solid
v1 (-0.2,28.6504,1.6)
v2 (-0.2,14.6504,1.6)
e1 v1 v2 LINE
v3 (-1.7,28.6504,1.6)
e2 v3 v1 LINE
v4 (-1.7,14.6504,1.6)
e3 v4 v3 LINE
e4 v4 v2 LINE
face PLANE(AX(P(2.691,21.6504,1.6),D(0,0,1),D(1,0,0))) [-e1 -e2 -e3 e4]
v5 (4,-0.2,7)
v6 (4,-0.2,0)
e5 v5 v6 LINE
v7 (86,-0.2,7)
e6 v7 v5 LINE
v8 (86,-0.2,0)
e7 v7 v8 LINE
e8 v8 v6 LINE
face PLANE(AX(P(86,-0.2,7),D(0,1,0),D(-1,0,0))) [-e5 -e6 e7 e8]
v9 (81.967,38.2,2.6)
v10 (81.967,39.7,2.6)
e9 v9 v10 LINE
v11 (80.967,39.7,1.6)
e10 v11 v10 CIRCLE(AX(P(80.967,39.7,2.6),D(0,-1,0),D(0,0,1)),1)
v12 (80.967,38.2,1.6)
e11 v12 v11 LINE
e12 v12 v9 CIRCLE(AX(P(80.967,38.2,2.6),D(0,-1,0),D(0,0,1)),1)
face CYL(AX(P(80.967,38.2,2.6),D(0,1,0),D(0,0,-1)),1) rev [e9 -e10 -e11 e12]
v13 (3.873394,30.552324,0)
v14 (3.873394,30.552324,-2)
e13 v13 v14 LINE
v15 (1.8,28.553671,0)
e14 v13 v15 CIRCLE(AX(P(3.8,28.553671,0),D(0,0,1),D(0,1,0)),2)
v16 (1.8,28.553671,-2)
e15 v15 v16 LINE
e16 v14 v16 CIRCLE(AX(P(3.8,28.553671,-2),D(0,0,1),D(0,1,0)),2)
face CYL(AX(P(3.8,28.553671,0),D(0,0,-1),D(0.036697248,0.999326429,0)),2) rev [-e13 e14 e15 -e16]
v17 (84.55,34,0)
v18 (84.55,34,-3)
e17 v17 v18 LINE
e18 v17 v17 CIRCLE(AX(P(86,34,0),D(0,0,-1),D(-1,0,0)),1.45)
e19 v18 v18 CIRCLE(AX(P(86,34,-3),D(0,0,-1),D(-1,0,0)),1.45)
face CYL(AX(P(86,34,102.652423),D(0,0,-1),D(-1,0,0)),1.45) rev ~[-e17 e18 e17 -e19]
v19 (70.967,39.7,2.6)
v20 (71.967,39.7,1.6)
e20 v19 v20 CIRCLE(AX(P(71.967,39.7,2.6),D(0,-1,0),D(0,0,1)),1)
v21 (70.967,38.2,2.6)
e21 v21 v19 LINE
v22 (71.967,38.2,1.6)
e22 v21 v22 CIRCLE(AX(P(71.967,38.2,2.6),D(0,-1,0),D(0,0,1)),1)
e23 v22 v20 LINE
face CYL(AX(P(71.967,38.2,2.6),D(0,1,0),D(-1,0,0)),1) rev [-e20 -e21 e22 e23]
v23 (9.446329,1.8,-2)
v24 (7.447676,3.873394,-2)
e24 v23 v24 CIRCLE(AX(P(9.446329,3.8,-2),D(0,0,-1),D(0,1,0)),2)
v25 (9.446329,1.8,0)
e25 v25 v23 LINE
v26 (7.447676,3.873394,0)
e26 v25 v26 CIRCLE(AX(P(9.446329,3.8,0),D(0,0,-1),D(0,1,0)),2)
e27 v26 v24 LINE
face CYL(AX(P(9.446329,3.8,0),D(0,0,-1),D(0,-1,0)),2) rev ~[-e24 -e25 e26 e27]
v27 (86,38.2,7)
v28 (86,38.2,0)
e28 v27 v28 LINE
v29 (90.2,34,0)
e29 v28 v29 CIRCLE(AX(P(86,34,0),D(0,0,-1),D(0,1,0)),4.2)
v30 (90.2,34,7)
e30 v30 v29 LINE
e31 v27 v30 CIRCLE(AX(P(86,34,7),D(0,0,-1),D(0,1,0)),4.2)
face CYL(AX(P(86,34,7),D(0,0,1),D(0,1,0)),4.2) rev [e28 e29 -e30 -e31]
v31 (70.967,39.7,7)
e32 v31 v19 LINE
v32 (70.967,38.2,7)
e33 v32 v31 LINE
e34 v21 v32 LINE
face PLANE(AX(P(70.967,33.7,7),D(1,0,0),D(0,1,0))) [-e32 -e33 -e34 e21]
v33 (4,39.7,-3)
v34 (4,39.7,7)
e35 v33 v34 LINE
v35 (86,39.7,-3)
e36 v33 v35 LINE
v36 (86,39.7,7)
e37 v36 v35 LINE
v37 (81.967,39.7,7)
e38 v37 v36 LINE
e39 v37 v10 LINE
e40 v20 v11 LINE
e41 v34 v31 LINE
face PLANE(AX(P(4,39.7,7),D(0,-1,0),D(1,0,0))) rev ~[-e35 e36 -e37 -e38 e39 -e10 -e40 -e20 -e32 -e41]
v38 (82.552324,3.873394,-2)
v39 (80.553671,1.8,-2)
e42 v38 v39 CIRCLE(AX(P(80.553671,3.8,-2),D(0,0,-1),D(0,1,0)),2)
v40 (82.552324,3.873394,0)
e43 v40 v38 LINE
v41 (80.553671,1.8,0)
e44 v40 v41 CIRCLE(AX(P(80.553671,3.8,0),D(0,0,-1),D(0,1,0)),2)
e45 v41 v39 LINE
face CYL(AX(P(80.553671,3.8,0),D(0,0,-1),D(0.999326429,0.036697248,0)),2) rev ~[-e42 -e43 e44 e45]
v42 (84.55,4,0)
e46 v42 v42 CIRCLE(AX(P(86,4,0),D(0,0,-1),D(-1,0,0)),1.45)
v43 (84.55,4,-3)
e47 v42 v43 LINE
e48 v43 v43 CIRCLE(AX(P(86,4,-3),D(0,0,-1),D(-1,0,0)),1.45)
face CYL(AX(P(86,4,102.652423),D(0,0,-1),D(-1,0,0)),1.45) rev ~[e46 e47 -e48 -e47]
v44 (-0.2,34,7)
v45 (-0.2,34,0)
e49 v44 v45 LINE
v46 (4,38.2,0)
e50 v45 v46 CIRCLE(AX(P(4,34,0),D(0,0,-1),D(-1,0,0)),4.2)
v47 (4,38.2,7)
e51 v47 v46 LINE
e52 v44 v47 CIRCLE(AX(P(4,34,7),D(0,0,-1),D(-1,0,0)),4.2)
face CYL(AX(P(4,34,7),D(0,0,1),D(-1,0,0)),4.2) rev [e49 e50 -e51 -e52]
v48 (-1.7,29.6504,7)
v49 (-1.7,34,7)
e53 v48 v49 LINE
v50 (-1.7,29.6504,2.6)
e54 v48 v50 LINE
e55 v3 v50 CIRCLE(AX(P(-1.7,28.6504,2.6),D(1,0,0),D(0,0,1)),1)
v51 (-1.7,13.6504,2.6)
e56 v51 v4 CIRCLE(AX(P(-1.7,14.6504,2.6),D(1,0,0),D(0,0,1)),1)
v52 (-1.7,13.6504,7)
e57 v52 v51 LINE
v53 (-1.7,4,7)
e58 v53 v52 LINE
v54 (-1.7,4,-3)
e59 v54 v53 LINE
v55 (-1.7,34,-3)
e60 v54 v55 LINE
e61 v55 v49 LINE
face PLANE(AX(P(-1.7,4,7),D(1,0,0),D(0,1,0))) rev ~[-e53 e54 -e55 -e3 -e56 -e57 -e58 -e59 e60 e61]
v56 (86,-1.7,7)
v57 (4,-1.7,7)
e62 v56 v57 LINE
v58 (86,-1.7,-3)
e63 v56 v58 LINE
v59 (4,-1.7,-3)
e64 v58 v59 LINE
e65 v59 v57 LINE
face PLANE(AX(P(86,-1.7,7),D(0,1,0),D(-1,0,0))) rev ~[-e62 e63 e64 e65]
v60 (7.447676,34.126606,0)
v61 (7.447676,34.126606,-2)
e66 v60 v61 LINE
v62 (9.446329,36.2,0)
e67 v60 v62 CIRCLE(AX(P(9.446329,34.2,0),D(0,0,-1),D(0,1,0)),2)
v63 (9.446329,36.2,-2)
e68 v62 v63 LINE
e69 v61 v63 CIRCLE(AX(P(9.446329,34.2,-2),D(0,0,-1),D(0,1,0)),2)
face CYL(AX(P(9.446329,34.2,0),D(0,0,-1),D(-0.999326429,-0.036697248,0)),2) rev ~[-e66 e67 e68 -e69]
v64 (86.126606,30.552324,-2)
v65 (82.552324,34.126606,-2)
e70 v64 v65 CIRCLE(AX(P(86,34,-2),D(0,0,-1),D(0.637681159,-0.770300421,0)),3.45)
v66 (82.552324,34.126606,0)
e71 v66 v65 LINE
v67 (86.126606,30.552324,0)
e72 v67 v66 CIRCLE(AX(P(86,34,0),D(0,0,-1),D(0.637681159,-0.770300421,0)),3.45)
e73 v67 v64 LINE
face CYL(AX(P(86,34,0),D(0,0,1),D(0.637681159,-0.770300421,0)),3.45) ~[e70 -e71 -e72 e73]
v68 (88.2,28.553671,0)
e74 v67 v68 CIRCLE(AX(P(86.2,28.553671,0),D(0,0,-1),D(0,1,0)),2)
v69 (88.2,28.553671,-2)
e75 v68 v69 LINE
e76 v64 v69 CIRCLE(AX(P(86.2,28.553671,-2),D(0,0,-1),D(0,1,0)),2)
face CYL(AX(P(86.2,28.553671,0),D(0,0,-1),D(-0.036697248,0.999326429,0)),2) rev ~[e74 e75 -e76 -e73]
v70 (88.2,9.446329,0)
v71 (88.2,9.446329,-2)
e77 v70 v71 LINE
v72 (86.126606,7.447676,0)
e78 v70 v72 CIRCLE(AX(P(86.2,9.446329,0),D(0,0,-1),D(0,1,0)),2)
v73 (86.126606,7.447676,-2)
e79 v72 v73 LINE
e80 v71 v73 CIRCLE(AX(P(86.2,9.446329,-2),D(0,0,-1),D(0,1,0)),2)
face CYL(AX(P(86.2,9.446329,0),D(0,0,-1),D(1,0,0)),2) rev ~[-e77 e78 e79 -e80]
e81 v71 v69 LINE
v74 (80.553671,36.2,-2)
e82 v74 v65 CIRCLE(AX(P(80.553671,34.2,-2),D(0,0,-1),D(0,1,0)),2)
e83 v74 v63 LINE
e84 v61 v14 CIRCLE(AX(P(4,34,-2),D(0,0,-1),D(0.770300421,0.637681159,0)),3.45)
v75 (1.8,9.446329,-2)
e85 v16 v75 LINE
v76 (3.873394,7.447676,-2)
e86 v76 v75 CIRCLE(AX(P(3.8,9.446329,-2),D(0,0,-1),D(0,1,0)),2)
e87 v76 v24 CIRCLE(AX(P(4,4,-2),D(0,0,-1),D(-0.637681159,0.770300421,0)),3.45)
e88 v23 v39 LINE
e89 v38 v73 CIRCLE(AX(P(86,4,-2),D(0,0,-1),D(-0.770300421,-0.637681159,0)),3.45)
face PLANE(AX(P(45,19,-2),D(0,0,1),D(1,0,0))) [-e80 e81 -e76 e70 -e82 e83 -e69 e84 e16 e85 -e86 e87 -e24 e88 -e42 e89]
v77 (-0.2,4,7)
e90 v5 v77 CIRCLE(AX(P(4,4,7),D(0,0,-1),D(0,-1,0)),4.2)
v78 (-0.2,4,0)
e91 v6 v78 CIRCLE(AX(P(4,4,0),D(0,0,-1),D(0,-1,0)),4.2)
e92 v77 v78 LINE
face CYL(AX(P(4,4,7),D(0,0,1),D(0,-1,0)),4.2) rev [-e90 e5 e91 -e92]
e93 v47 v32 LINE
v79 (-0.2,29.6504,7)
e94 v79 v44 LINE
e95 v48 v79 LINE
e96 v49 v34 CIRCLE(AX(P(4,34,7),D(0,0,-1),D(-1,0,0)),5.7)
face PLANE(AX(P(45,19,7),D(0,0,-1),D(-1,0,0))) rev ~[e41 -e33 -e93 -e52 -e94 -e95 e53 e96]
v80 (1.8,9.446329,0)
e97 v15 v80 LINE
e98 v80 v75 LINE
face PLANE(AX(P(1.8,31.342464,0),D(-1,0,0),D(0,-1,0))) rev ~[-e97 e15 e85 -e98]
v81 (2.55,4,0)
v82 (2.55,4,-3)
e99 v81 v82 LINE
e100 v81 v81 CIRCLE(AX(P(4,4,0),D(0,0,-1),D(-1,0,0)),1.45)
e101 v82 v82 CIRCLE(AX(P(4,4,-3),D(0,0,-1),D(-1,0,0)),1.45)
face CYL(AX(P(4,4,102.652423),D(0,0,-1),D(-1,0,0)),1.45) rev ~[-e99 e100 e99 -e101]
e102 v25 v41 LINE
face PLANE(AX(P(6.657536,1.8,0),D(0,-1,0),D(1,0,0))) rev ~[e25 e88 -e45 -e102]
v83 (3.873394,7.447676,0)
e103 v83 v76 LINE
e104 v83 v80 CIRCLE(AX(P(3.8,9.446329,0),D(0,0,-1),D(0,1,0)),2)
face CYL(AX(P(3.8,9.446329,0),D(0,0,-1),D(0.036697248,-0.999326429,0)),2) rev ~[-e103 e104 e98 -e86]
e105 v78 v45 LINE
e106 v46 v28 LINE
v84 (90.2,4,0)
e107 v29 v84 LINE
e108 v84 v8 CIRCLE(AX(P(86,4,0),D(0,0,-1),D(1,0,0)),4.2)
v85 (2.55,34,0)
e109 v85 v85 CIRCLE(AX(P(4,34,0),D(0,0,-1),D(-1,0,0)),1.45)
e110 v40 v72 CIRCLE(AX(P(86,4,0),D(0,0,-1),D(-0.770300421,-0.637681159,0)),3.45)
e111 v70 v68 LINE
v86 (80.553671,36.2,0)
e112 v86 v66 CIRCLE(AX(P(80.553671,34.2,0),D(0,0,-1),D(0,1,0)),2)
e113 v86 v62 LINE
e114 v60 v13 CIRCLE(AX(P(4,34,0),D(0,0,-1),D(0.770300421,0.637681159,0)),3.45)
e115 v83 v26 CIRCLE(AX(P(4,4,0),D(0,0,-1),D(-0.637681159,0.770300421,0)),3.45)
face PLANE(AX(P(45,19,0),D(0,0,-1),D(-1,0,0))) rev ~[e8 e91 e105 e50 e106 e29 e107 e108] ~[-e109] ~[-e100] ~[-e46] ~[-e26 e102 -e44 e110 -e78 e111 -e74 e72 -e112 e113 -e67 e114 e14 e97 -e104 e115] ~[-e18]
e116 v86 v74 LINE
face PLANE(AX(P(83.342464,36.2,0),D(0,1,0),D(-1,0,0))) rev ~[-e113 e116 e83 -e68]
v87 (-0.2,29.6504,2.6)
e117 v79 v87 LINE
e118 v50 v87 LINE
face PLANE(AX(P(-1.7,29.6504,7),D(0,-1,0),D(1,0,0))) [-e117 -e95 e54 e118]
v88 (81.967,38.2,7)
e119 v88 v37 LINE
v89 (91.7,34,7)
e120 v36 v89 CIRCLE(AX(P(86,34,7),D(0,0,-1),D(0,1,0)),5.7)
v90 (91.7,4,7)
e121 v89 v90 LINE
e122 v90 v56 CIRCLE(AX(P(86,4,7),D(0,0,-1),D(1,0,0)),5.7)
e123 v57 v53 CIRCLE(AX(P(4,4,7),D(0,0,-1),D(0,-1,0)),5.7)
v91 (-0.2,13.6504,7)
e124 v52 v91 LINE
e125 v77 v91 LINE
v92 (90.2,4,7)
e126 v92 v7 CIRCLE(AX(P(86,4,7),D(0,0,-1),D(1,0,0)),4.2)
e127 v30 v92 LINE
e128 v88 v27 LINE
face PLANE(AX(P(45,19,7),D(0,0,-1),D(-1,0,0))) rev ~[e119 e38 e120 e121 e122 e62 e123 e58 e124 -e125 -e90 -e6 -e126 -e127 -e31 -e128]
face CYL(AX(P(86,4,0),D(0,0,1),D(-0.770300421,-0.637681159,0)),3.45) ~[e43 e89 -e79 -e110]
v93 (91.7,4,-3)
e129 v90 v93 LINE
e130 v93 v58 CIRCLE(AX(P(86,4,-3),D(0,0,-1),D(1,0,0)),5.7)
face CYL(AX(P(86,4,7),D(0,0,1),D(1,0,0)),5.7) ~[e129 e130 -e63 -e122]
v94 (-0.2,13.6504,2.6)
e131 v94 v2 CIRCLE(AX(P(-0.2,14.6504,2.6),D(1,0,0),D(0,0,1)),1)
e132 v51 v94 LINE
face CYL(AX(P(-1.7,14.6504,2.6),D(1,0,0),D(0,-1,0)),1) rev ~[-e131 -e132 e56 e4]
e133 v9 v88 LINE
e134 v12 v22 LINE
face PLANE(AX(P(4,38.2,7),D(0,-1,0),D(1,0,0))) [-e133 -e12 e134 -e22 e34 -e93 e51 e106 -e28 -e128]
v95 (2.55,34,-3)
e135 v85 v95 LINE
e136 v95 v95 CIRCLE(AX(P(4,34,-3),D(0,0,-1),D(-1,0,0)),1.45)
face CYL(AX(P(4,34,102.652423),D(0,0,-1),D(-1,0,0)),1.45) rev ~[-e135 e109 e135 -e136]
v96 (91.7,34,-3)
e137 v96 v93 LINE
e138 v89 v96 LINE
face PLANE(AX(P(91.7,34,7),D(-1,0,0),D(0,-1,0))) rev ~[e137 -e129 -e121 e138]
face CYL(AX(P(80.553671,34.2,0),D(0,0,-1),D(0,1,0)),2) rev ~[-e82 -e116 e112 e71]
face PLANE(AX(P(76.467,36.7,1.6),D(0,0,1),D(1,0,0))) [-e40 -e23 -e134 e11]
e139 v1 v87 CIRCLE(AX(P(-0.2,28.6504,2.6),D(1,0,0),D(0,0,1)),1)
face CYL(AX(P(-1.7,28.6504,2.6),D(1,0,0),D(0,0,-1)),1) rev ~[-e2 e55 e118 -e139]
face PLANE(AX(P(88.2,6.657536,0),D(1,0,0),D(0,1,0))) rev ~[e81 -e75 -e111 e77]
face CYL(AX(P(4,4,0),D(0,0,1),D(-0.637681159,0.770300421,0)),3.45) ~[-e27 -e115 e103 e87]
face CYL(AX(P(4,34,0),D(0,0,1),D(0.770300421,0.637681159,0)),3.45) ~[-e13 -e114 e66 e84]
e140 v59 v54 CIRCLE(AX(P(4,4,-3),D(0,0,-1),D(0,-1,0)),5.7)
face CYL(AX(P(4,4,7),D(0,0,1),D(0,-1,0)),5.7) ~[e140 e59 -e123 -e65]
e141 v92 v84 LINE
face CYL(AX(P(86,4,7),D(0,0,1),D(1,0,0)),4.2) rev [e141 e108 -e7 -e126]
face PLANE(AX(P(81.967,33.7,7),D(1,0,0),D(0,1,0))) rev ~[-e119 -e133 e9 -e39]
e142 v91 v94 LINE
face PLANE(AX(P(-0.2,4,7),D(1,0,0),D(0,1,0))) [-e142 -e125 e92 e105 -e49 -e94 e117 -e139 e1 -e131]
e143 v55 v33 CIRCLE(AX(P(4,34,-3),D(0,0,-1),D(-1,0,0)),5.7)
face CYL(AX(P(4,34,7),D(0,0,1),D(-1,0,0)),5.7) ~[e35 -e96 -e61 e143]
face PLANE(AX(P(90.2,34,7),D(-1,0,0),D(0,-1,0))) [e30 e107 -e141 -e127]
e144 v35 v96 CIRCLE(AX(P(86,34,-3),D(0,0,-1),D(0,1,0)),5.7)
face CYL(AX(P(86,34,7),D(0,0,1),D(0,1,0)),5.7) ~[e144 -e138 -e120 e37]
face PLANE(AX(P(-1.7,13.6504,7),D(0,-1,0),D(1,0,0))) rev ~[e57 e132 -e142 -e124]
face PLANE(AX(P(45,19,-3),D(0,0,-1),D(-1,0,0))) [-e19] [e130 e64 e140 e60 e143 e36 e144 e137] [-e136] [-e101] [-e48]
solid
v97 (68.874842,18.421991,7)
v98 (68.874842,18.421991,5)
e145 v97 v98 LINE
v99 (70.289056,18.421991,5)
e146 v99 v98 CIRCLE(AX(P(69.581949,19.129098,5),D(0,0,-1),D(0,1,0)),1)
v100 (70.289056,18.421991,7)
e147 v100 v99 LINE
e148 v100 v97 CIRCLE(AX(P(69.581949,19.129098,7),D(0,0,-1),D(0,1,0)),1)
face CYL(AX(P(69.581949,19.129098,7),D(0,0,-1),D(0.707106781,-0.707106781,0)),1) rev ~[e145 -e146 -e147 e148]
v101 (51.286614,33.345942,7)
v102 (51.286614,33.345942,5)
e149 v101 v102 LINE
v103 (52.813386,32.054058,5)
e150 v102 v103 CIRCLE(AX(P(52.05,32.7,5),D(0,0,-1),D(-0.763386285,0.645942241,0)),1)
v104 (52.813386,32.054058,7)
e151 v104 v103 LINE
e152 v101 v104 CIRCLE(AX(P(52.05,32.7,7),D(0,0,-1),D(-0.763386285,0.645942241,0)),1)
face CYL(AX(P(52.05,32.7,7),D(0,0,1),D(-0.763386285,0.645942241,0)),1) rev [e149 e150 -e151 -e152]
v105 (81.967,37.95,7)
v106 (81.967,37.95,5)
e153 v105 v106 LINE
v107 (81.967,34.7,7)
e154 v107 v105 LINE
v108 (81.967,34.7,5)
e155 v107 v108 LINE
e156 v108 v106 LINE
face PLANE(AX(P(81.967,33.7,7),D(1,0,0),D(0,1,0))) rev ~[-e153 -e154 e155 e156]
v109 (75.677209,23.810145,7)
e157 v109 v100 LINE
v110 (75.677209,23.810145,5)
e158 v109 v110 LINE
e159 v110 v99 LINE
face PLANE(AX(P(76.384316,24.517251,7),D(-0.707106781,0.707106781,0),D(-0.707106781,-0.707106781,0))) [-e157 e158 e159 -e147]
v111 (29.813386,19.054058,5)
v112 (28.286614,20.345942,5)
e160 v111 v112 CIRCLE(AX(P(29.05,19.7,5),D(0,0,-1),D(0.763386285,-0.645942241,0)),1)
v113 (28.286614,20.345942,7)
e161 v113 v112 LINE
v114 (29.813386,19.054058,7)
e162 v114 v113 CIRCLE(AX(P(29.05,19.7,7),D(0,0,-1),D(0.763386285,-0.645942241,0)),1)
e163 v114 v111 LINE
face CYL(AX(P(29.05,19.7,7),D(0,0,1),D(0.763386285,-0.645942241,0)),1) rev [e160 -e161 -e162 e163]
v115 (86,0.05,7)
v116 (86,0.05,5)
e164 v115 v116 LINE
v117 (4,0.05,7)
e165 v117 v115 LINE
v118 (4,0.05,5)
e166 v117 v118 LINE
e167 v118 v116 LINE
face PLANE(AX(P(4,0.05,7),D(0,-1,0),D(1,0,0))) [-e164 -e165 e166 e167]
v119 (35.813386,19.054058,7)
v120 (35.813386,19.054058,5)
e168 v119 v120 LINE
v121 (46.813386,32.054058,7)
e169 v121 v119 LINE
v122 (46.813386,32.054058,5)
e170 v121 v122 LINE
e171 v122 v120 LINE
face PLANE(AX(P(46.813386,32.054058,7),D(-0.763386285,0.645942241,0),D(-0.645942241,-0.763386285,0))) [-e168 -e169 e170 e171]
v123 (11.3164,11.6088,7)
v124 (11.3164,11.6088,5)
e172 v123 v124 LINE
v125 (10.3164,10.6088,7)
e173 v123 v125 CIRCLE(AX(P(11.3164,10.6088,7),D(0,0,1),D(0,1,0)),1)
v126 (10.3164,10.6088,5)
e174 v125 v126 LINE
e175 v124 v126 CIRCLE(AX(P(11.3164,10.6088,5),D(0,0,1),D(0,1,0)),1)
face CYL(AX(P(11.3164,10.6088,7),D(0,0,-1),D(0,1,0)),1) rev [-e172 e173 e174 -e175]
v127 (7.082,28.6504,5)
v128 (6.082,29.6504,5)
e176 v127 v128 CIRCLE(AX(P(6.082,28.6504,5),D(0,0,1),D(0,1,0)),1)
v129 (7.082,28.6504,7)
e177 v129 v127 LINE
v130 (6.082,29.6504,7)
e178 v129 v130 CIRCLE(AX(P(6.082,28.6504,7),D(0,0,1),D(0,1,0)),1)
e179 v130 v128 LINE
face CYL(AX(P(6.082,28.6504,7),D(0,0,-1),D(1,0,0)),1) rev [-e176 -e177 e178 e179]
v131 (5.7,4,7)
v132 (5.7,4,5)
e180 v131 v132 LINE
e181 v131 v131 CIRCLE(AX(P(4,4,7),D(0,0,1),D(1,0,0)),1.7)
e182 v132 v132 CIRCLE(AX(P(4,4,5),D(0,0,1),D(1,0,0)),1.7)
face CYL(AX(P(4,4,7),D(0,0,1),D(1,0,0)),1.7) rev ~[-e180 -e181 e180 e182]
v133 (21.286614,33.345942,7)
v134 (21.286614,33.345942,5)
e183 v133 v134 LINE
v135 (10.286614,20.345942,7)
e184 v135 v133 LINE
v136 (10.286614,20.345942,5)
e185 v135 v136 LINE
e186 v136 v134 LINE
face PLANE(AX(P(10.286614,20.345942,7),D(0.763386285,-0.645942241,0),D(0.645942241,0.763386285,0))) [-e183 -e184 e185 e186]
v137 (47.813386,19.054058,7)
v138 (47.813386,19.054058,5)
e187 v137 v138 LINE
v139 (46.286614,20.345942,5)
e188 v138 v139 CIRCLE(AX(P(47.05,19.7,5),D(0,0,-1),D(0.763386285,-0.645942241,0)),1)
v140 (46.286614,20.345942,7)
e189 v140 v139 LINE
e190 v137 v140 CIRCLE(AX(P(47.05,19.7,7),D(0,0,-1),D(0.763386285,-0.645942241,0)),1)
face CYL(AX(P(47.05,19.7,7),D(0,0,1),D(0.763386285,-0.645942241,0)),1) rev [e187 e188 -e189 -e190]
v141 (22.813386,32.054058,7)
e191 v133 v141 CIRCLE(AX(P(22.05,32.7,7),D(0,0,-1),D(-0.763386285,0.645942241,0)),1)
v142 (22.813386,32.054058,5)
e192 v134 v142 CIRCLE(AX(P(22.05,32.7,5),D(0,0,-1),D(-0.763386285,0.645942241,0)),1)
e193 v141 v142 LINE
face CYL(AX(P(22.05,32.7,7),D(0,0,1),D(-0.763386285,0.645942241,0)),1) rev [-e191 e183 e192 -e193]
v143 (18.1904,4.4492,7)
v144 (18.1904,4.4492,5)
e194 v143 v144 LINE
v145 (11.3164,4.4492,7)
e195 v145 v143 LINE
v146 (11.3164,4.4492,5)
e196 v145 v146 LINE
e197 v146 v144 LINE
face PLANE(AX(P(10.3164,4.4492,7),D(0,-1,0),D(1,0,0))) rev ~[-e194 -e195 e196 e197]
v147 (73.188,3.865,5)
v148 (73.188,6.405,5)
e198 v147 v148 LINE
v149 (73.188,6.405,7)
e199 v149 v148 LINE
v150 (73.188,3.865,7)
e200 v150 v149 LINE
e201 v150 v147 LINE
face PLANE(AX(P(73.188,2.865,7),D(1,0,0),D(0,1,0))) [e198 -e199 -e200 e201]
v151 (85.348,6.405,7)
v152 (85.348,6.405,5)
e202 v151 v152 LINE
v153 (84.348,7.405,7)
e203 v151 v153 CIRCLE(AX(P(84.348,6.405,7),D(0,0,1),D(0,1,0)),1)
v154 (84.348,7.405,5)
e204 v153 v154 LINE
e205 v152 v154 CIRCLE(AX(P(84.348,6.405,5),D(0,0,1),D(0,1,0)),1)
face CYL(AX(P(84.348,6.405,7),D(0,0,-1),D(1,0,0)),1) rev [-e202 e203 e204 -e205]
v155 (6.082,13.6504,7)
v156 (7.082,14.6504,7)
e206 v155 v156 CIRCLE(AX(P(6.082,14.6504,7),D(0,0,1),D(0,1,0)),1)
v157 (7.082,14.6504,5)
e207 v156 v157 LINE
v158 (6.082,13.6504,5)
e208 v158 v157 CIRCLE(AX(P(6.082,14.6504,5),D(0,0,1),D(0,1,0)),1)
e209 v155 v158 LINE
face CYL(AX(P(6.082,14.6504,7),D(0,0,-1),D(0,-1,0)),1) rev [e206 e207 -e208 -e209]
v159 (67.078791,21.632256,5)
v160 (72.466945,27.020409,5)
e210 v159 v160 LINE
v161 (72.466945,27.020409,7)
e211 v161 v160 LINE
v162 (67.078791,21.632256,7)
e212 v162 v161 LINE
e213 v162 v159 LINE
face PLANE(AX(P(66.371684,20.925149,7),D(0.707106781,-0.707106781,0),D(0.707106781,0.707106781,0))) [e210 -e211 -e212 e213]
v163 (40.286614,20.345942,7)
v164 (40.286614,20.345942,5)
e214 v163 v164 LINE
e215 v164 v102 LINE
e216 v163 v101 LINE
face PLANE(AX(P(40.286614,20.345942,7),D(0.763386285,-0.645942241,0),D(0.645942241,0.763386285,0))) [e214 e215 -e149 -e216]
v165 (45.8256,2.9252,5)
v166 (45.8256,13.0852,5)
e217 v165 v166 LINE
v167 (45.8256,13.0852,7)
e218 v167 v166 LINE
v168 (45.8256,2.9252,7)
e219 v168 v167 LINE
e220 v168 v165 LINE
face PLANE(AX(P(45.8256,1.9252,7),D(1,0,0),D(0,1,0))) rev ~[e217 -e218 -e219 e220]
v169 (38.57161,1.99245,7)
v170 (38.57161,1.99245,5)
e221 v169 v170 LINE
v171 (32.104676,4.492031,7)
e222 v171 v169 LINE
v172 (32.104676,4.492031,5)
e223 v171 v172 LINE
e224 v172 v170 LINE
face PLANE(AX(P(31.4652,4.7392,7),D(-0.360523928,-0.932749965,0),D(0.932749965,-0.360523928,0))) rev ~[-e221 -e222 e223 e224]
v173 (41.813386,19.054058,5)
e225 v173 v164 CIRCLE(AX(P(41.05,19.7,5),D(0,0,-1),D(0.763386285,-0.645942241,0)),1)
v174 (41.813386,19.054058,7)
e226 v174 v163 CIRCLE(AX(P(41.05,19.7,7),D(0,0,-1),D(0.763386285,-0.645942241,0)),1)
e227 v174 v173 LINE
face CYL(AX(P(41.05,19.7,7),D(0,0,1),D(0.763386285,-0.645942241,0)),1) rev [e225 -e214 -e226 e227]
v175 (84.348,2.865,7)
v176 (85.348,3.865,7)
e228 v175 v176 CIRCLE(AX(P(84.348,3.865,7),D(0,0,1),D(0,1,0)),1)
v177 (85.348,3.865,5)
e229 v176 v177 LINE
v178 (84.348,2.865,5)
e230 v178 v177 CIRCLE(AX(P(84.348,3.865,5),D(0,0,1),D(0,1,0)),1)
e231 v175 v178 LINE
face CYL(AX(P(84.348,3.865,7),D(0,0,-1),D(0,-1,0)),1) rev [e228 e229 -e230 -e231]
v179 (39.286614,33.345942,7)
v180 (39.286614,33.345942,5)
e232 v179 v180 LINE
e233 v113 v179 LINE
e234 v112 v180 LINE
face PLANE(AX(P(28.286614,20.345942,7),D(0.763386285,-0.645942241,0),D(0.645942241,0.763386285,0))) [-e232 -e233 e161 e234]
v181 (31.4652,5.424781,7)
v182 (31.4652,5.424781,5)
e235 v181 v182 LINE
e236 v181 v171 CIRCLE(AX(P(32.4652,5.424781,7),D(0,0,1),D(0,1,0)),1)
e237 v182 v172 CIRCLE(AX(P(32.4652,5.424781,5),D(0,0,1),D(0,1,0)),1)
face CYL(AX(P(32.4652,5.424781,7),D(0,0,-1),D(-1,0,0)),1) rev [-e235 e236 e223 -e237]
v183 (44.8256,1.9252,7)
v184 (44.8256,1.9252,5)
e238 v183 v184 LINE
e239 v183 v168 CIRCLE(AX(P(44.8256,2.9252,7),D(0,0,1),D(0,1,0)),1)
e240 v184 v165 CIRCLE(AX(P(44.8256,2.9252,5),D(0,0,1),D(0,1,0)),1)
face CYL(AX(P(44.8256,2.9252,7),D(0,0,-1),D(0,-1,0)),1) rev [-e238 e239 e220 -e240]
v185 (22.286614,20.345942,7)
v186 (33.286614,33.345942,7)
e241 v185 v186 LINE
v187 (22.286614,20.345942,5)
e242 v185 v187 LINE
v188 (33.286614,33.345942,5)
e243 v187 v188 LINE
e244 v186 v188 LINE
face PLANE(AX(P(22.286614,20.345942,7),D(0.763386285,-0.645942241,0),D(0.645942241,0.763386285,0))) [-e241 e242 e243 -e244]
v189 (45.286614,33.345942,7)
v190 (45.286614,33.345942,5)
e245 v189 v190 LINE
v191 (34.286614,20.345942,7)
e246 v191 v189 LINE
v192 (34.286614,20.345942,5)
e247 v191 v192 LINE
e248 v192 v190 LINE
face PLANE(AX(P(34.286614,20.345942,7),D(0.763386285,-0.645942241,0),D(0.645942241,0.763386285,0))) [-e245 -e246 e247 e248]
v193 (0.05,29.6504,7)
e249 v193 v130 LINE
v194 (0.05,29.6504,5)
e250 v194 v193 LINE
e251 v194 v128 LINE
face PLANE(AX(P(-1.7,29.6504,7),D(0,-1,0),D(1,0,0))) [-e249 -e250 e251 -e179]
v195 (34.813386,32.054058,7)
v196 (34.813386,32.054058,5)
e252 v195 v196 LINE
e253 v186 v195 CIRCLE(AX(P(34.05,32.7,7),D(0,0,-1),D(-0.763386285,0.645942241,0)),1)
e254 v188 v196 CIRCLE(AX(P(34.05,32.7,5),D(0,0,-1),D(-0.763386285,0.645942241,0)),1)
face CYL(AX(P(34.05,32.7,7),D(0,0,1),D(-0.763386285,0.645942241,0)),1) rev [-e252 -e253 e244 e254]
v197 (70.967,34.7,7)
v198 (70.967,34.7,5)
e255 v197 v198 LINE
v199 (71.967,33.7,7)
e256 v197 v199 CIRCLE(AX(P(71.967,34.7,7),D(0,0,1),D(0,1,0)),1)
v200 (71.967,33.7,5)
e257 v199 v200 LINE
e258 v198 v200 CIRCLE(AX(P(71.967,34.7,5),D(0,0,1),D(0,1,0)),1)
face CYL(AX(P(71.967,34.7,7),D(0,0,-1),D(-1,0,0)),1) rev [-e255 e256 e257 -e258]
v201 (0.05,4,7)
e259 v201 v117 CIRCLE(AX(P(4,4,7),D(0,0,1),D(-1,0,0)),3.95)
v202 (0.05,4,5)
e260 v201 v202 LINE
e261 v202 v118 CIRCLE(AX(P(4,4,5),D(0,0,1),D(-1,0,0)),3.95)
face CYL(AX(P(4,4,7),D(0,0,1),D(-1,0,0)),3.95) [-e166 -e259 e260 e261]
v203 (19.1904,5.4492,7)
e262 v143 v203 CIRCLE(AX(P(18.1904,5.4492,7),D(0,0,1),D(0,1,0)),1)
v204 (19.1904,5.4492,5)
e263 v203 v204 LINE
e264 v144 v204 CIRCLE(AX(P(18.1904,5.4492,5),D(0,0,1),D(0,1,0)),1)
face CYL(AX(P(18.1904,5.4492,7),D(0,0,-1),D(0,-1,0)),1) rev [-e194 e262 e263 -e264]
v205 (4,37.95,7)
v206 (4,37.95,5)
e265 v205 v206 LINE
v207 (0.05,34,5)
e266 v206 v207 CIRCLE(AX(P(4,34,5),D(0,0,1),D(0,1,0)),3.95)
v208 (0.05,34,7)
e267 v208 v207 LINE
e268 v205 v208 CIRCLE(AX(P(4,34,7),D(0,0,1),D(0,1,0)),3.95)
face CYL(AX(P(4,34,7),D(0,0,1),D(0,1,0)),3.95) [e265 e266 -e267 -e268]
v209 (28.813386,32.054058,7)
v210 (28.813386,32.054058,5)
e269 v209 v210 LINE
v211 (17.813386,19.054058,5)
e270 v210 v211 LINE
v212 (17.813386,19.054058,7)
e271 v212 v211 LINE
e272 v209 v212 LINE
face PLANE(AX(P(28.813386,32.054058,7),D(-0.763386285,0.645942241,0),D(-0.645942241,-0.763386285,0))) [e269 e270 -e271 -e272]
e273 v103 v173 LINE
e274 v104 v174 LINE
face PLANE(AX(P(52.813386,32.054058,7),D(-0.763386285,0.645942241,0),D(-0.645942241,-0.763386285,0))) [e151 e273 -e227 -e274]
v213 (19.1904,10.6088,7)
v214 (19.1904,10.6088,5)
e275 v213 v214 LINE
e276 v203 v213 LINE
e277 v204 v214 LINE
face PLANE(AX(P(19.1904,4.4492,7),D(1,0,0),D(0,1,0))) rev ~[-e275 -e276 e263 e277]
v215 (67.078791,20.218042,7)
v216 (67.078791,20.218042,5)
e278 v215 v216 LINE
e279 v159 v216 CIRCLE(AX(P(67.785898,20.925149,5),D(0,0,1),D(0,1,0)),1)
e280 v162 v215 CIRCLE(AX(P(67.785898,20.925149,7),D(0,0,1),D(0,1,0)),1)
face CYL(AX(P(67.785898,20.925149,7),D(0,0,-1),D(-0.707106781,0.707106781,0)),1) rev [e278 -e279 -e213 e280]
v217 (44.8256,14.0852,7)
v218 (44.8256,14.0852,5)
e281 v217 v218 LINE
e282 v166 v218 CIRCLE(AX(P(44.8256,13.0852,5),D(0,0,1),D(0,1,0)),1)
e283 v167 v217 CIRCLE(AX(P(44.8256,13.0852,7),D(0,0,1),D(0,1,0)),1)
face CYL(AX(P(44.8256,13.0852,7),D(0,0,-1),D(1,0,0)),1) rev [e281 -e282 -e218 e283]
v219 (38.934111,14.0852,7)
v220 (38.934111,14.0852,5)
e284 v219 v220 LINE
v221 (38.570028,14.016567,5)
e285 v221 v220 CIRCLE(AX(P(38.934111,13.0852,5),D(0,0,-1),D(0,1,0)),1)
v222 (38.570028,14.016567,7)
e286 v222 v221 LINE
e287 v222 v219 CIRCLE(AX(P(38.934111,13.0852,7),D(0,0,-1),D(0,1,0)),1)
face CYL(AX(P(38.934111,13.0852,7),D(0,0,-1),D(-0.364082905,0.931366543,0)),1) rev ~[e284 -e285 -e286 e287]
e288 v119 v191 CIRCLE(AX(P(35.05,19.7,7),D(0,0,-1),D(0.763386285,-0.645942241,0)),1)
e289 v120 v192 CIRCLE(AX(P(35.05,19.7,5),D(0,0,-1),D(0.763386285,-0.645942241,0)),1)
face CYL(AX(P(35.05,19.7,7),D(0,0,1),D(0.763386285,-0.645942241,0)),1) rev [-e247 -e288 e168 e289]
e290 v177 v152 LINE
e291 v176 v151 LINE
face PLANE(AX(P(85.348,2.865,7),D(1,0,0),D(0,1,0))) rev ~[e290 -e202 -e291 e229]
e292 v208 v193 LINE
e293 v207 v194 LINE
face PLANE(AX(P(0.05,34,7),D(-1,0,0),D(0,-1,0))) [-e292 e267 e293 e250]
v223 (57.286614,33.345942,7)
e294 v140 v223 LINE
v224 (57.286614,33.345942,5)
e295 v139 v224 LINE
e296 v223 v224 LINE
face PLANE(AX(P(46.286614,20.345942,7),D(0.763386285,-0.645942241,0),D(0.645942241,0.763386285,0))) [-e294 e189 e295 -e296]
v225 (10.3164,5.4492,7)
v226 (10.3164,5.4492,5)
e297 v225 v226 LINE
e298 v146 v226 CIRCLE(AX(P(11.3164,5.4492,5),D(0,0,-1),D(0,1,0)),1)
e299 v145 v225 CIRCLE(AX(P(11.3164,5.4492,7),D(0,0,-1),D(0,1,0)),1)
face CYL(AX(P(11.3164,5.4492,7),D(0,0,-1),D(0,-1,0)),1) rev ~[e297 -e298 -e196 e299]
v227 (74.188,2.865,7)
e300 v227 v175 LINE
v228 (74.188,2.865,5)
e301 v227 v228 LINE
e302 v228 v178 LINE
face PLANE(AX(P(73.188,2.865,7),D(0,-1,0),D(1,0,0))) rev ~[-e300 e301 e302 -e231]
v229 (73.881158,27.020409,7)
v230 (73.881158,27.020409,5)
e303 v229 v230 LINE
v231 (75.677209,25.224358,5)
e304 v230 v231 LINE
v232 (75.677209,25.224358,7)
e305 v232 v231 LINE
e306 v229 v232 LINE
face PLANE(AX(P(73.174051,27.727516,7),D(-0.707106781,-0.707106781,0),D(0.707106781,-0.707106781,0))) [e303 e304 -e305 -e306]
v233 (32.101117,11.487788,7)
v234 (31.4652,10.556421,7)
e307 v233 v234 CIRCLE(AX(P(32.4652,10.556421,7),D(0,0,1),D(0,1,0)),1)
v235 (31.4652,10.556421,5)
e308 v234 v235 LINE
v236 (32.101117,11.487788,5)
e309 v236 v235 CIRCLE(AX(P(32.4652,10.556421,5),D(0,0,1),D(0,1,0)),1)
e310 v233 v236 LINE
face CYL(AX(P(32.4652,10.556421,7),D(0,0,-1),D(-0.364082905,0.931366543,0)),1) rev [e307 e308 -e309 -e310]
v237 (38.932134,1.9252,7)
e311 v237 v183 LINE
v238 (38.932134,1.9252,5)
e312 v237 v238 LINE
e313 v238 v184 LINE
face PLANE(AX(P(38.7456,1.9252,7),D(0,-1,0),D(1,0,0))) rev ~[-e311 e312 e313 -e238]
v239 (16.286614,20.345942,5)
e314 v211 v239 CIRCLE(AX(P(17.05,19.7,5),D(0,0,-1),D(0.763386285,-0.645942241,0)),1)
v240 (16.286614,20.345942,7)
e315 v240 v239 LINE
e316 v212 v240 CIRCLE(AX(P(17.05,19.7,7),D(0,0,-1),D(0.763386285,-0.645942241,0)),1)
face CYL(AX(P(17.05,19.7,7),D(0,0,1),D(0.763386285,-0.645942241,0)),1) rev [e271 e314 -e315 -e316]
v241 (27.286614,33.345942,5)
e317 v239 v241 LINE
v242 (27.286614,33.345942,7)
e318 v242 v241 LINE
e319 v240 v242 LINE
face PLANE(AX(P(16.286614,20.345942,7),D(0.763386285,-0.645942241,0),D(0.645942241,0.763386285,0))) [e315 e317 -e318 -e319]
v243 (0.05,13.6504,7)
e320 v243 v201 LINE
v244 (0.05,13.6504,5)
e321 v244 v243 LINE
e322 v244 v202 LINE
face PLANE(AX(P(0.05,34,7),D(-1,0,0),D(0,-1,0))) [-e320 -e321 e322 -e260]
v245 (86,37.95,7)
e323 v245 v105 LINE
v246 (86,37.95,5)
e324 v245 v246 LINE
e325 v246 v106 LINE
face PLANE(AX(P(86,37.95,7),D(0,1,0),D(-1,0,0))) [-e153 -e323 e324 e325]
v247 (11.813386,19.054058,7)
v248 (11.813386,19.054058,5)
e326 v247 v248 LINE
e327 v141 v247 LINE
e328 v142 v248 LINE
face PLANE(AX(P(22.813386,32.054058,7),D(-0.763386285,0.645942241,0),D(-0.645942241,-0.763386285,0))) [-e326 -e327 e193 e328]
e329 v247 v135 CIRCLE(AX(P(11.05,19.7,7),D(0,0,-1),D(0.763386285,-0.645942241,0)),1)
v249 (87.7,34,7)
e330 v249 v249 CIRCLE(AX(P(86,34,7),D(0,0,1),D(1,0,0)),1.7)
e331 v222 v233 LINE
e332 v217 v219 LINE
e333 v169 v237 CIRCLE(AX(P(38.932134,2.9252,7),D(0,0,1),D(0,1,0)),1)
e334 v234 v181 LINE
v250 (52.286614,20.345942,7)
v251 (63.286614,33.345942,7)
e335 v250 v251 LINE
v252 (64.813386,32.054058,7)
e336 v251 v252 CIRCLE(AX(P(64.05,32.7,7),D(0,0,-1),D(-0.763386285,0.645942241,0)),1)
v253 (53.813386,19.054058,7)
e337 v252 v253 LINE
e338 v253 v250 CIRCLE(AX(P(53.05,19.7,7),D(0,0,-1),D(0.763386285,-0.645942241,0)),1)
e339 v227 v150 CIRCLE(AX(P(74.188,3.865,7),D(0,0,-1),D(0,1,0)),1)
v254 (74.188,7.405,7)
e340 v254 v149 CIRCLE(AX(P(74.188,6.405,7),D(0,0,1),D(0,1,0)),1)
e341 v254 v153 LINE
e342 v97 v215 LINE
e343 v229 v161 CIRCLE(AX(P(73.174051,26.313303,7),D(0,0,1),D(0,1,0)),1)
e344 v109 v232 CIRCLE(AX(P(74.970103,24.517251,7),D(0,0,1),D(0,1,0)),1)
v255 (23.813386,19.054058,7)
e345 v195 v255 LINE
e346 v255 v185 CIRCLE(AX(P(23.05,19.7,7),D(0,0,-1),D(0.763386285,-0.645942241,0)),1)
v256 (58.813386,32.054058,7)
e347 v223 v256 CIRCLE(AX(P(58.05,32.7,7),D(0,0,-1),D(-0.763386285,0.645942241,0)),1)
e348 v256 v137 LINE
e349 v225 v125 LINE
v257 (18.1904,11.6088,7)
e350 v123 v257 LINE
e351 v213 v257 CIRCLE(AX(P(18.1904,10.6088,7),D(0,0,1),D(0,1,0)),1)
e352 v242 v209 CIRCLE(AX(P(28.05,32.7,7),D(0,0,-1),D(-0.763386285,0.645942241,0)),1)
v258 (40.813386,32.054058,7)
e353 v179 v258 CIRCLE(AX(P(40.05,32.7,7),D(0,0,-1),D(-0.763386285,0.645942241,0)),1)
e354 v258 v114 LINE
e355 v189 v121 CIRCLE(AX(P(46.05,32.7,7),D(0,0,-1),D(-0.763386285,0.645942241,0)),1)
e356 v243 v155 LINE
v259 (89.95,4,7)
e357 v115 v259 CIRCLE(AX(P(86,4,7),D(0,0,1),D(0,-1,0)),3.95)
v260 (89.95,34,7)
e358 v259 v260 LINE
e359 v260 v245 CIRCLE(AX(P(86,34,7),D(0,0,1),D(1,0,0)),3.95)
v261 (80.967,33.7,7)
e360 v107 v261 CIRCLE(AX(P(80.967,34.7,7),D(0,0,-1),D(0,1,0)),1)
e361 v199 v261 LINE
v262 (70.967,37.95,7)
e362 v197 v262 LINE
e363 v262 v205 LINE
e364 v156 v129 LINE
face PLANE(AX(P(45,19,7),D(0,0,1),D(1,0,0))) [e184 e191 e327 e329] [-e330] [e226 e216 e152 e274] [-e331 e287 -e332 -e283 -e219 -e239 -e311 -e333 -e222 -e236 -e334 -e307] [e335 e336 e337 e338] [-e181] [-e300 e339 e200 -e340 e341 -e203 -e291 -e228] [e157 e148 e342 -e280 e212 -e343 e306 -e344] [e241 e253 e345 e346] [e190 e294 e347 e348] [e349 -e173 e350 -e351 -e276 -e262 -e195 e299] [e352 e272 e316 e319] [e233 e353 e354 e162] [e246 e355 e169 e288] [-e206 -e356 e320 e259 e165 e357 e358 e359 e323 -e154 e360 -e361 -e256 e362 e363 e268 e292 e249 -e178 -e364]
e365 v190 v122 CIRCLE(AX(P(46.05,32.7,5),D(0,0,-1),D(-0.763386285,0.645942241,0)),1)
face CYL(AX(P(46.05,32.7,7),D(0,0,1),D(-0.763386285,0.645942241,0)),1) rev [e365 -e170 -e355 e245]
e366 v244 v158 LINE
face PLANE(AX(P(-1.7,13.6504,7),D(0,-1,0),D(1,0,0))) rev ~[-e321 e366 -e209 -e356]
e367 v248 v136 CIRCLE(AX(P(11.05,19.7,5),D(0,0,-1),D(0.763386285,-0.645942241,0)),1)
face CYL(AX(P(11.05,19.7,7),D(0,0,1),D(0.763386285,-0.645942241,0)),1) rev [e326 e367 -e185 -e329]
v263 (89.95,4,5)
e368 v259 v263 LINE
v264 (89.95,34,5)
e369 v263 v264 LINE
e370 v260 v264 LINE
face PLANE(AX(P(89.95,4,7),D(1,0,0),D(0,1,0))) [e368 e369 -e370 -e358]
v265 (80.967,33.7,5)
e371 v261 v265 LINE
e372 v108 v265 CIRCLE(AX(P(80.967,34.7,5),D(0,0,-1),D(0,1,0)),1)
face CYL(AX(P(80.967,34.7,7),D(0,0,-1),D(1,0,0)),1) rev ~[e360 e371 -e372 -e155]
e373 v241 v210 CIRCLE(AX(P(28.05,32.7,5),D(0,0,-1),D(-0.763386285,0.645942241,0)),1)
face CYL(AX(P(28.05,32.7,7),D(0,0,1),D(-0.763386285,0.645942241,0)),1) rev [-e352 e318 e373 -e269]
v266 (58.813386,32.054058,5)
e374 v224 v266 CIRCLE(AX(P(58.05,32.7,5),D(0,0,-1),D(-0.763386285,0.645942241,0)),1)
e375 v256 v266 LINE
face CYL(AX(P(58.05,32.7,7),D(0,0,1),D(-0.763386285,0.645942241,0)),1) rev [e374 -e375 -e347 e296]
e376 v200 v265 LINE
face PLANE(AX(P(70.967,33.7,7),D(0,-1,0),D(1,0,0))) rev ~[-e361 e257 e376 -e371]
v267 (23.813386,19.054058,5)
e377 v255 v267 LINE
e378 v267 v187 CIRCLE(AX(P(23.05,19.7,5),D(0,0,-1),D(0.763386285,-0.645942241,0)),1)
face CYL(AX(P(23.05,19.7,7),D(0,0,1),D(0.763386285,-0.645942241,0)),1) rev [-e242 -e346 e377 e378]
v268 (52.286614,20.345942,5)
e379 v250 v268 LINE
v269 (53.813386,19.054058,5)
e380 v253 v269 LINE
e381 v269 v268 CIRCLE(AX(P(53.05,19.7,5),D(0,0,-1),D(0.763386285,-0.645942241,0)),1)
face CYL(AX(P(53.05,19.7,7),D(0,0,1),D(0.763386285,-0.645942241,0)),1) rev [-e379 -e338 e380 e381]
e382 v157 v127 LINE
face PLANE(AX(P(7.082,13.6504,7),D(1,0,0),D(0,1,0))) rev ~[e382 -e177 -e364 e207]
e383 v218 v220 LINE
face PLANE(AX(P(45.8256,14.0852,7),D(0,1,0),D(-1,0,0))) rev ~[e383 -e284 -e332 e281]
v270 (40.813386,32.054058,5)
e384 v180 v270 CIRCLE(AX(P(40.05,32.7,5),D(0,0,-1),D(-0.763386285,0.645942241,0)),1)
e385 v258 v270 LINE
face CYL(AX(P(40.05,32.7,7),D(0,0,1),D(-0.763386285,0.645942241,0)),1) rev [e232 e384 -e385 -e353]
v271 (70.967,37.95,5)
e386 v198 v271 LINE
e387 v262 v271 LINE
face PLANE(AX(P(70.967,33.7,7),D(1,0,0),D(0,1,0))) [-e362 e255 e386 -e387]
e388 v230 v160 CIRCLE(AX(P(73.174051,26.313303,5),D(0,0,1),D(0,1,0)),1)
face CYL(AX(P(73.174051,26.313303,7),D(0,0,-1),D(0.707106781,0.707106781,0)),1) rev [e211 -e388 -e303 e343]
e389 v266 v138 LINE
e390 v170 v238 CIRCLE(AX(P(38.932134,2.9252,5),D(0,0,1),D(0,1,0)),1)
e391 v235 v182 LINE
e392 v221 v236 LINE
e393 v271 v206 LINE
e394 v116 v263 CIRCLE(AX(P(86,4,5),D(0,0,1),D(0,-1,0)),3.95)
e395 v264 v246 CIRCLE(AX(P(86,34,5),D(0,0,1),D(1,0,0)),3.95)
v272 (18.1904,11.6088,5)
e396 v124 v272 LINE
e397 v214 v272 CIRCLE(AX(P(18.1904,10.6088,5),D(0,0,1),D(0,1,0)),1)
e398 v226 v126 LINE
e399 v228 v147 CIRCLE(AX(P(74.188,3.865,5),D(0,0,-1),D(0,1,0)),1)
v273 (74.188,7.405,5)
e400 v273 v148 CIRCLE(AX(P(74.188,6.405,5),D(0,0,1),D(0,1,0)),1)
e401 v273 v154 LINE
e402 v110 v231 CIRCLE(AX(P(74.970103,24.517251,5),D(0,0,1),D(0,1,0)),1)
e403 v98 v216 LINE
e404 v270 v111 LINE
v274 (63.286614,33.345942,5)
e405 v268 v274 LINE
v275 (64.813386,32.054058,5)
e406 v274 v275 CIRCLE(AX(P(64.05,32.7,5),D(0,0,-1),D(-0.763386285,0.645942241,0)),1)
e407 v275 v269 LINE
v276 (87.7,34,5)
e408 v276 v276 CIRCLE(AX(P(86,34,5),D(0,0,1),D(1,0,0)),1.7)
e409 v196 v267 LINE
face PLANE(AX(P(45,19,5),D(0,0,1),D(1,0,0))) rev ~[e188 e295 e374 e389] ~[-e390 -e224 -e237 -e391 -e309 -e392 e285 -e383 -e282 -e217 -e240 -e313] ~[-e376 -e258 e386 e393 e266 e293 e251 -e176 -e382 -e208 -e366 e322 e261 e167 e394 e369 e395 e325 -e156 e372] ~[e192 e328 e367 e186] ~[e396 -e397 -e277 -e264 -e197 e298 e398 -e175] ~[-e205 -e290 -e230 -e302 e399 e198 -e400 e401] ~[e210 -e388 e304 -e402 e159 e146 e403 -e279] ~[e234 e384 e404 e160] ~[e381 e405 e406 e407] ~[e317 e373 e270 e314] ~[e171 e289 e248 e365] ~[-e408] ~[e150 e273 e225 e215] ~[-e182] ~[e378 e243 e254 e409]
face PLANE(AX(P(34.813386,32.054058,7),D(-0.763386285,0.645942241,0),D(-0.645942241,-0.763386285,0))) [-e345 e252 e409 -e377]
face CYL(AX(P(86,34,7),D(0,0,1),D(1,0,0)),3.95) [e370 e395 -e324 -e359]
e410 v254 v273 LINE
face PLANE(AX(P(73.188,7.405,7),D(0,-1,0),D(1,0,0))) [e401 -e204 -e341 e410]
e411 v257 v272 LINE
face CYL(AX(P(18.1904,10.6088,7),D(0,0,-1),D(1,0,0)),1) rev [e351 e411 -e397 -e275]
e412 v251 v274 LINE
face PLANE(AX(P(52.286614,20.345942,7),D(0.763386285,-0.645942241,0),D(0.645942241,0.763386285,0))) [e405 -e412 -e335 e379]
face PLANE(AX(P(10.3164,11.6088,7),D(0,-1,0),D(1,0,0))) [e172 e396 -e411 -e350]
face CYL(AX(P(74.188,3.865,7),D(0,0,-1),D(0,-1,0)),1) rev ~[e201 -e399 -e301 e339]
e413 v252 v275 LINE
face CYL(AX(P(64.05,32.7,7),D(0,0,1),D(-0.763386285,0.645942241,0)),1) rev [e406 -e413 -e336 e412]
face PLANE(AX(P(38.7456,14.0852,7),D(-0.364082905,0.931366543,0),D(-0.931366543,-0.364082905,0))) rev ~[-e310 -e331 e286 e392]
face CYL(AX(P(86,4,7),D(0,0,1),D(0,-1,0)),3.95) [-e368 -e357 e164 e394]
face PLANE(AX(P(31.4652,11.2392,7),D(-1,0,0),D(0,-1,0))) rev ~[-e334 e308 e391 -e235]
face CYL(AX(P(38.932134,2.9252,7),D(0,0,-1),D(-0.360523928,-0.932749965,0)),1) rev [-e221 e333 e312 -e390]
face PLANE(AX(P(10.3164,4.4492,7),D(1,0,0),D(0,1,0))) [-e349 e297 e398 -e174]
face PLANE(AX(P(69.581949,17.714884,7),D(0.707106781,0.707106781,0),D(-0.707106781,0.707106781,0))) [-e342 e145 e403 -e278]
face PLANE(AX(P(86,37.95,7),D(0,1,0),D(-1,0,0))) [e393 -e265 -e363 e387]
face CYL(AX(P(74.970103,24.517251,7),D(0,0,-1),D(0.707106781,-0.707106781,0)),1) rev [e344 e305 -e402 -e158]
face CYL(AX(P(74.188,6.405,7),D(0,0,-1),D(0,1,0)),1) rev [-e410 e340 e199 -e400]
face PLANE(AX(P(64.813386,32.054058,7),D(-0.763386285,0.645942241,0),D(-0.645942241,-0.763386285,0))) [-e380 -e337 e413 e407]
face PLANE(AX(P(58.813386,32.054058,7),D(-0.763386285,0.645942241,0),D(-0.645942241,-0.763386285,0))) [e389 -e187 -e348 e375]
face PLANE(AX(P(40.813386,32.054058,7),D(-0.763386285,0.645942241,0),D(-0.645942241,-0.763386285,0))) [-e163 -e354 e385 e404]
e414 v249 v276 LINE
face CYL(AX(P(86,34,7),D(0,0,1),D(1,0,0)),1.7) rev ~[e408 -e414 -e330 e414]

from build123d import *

# Parameters (mm, degrees)
BOSS_EXTRUDE1_DEPTH   = 3
BOSS_EXTRUDE2_START   = 7
BOSS_EXTRUDE2_DEPTH   = 7
M3X0_5_TAPPED_HOLE1_D = 2.9
CUT_EXTRUDE1_DEPTH    = 2
FILLET1_R             = 2
BOSS_EXTRUDE3_DEPTH   = 2
SKETCH6_W             = 8.782
SKETCH6_H             = 16
SKETCH6_W_2           = 8.874
SKETCH6_H_2           = 7.1596
SKETCH6_W_3           = 11
SKETCH6_H_3           = 6
SKETCH6_W_4           = 12.16
SKETCH6_H_4           = 4.54
CUT_EXTRUDE2_DEPTH    = 5.4
FILLET2_R             = 1
CUT_EXTRUDE3_DEPTH    = 2
SKETCH8_R             = 1.7
CUT_EXTRUDE4_DEPTH    = 101.424001115
FILLET3_R             = 1


with BuildPart() as part:
    # Sketch1 → Boss-Extrude1 (new body)
    with BuildSketch(Plane.XY):
        with BuildLine():
            Line((4, 39.7), (86, 39.7))
            ThreePointArc((86, 39.7), (90.030508653, 38.030508653), (91.7, 34))
            Line((91.7, 34), (91.7, 4))
            ThreePointArc((91.7, 4), (90.030508653, -0.030508653), (86, -1.7))
            Line((86, -1.7), (4, -1.7))
            ThreePointArc((4, -1.7), (-0.030508653, -0.030508653), (-1.7, 4))
            Line((-1.7, 4), (-1.7, 34))
            ThreePointArc((-1.7, 34), (-0.030508653, 38.030508653), (4, 39.7))
        make_face()
    extrude(amount=-BOSS_EXTRUDE1_DEPTH)

    # Sketch1<3> → Boss-Extrude2 (add)
    with BuildSketch(Plane.XY.offset(BOSS_EXTRUDE2_START)):
        with BuildLine():
            Line((4, 39.7), (86, 39.7))
            ThreePointArc((86, 39.7), (90.030508653, 38.030508653), (91.7, 34))
            Line((91.7, 34), (91.7, 4))
            ThreePointArc((91.7, 4), (90.030508653, -0.030508653), (86, -1.7))
            Line((86, -1.7), (4, -1.7))
            ThreePointArc((4, -1.7), (-0.030508653, -0.030508653), (-1.7, 4))
            Line((-1.7, 4), (-1.7, 34))
            ThreePointArc((-1.7, 34), (-0.030508653, 38.030508653), (4, 39.7))
        make_face()
        with BuildLine():
            Line((-0.2, 4), (-0.2, 34))
            ThreePointArc((-0.2, 34), (1.030151519, 36.969848481), (4, 38.2))
            Line((4, 38.2), (86, 38.2))
            ThreePointArc((86, 38.2), (88.969848481, 36.969848481), (90.2, 34))
            Line((90.2, 34), (90.2, 4))
            ThreePointArc((90.2, 4), (88.969848481, 1.030151519), (86, -0.2))
            Line((86, -0.2), (4, -0.2))
            ThreePointArc((4, -0.2), (1.030151519, 1.030151519), (-0.2, 4))
        make_face(mode=Mode.SUBTRACT)
    extrude(amount=-BOSS_EXTRUDE2_DEPTH)

    # M3x0.5 Tapped Hole1 (through all)
    with Locations(Plane.XY):
        with Locations((4, 34), (4, 4), (86, 4), (86, 34)):
            Hole(M3X0_5_TAPPED_HOLE1_D / 2)

    # Sketch4 → Cut-Extrude1 (cut)
    with BuildSketch(Plane.XY):
        with BuildLine():
            Line((1.8, 31.342463547), (1.8, 6.657536453))
            ThreePointArc((1.8, 6.657536453), (6.439518395, 6.439518395), (6.657536453, 1.8))
            Line((6.657536453, 1.8), (83.342463547, 1.8))
            ThreePointArc((83.342463547, 1.8), (83.560481605, 6.439518395), (88.2, 6.657536453))
            Line((88.2, 6.657536453), (88.2, 31.342463547))
            ThreePointArc((88.2, 31.342463547), (83.560481605, 31.560481605), (83.342463547, 36.2))
            Line((83.342463547, 36.2), (6.657536453, 36.2))
            ThreePointArc((6.657536453, 36.2), (6.439518395, 31.560481605), (1.8, 31.342463547))
        make_face()
    extrude(amount=-CUT_EXTRUDE1_DEPTH, mode=Mode.SUBTRACT)

    # Fillet1
    fillet1_edges = [part.edges().sort_by_distance(p)[0] for p in [
        (88.2, 6.657536453, -1),
        (83.342463547, 1.8, -1),
        (6.657536453, 1.8, -1),
        (1.8, 6.657536453, -1),
        (1.8, 31.342463547, -1),
        (6.657536453, 36.2, -1),
        (83.342463547, 36.2, -1),
        (88.2, 31.342463547, -1),
    ]]
    fillet(fillet1_edges, radius=FILLET1_R)


with BuildPart() as body_2:
    # Sketch5 → Boss-Extrude3 (new body)
    with BuildSketch(Plane.XY.offset(7)):
        with BuildLine():
            Line((86, 37.95), (4, 37.95))
            ThreePointArc((4, 37.95), (1.206928214, 36.793071786), (0.05, 34))
            Line((0.05, 34), (0.05, 4))
            ThreePointArc((0.05, 4), (1.206928214, 1.206928214), (4, 0.05))
            Line((4, 0.05), (86, 0.05))
            ThreePointArc((86, 0.05), (88.793071786, 1.206928214), (89.95, 4))
            Line((89.95, 4), (89.95, 34))
            ThreePointArc((89.95, 34), (88.793071786, 36.793071786), (86, 37.95))
        make_face()
    extrude(amount=-BOSS_EXTRUDE3_DEPTH)


with BuildPart() as cut_extrude2_tool:
    # Sketch6 → Cut-Extrude2 (new body)
    with BuildSketch(Plane.XY.offset(7)):
        Polygon((38.7456, 14.0852), (31.4652, 11.2392), (31.4652, 4.7392), (38.7456, 1.9252), (45.8256, 1.9252), (45.8256, 14.0852), align=None)
        with Locations((2.691, 21.6504)):
            Rectangle(SKETCH6_W, SKETCH6_H)
        with Locations((14.7534, 8.029)):
            Rectangle(SKETCH6_W_2, SKETCH6_H_2)
        with Locations((76.467, 36.7)):
            Rectangle(SKETCH6_W_3, SKETCH6_H_3)
        Polygon((69.581949, 17.714884213), (66.371684213, 20.925149), (73.174051448, 27.727516235), (76.384316235, 24.517251448), align=None)
        with Locations((79.268, 5.135)):
            Rectangle(SKETCH6_W_4, SKETCH6_H_4)
    extrude(amount=-CUT_EXTRUDE2_DEPTH)


with BuildPart() as part_1:
    add(part.part)

    # Cut-Extrude2: cut by cut_extrude2_tool
    add(cut_extrude2_tool.part, mode=Mode.SUBTRACT)

    # Fillet3
    fillet3_edges = [part_1.edges().sort_by_distance(p)[0] for p in [
        (-0.95, 13.6504, 1.6),
        (-0.95, 29.6504, 1.6),
        (70.967, 38.95, 1.6),
        (81.967, 38.95, 1.6),
    ]]
    fillet(fillet3_edges, radius=FILLET3_R)


with BuildPart() as body_2_1:
    add(body_2.part)

    # Cut-Extrude2: cut by cut_extrude2_tool
    add(cut_extrude2_tool.part, mode=Mode.SUBTRACT)

    # Fillet2
    fillet2_edges = [body_2_1.edges().sort_by_distance(p)[0] for p in [
        (73.188, 7.405, 6),
        (31.4652, 11.2392, 6),
        (31.4652, 4.7392, 6),
        (38.7456, 1.9252, 6),
        (45.8256, 1.9252, 6),
        (45.8256, 14.0852, 6),
        (38.7456, 14.0852, 6),
        (7.082, 29.6504, 6),
        (7.082, 13.6504, 6),
        (10.3164, 4.4492, 6),
        (19.1904, 4.4492, 6),
        (19.1904, 11.6088, 6),
        (10.3164, 11.6088, 6),
        (81.967, 33.7, 6),
        (70.967, 33.7, 6),
        (73.174051448, 27.727516235, 6),
        (66.371684213, 20.925149, 6),
        (69.581949, 17.714884213, 6),
        (76.384316235, 24.517251448, 6),
        (73.188, 2.865, 6),
        (85.348, 2.865, 6),
        (85.348, 7.405, 6),
    ]]
    fillet(fillet2_edges, radius=FILLET2_R)

    # Sketch7 → Cut-Extrude3 (cut)
    with BuildSketch(Plane.XY.offset(7)):
        with BuildLine():
            Line((10.286613715, 20.345942241), (21.286613715, 33.345942241))
            ThreePointArc((21.286613715, 33.345942241), (22.695942241, 33.463386285), (22.813386285, 32.054057759))
            Line((22.813386285, 32.054057759), (11.813386285, 19.054057759))
            ThreePointArc((11.813386285, 19.054057759), (10.404057759, 18.936613715), (10.286613715, 20.345942241))
        make_face()
        with BuildLine():
            Line((16.286613715, 20.345942241), (27.286613715, 33.345942241))
            ThreePointArc((27.286613715, 33.345942241), (28.695942241, 33.463386285), (28.813386285, 32.054057759))
            Line((28.813386285, 32.054057759), (17.813386285, 19.054057759))
            ThreePointArc((17.813386285, 19.054057759), (16.404057759, 18.936613715), (16.286613715, 20.345942241))
        make_face()
        with BuildLine():
            Line((22.286613715, 20.345942241), (33.286613715, 33.345942241))
            ThreePointArc((33.286613715, 33.345942241), (34.695942241, 33.463386285), (34.813386285, 32.054057759))
            Line((34.813386285, 32.054057759), (23.813386285, 19.054057759))
            ThreePointArc((23.813386285, 19.054057759), (22.404057759, 18.936613715), (22.286613715, 20.345942241))
        make_face()
        with BuildLine():
            Line((28.286613715, 20.345942241), (39.286613715, 33.345942241))
            ThreePointArc((39.286613715, 33.345942241), (40.695942241, 33.463386285), (40.813386285, 32.054057759))
            Line((40.813386285, 32.054057759), (29.813386285, 19.054057759))
            ThreePointArc((29.813386285, 19.054057759), (28.404057759, 18.936613715), (28.286613715, 20.345942241))
        make_face()
        with BuildLine():
            Line((34.286613715, 20.345942241), (45.286613715, 33.345942241))
            ThreePointArc((45.286613715, 33.345942241), (46.695942241, 33.463386285), (46.813386285, 32.054057759))
            Line((46.813386285, 32.054057759), (35.813386285, 19.054057759))
            ThreePointArc((35.813386285, 19.054057759), (34.404057759, 18.936613715), (34.286613715, 20.345942241))
        make_face()
        with BuildLine():
            Line((40.286613715, 20.345942241), (51.286613715, 33.345942241))
            ThreePointArc((51.286613715, 33.345942241), (52.695942241, 33.463386285), (52.813386285, 32.054057759))
            Line((52.813386285, 32.054057759), (41.813386285, 19.054057759))
            ThreePointArc((41.813386285, 19.054057759), (40.404057759, 18.936613715), (40.286613715, 20.345942241))
        make_face()
        with BuildLine():
            Line((46.286613715, 20.345942241), (57.286613715, 33.345942241))
            ThreePointArc((57.286613715, 33.345942241), (58.695942241, 33.463386285), (58.813386285, 32.054057759))
            Line((58.813386285, 32.054057759), (47.813386285, 19.054057759))
            ThreePointArc((47.813386285, 19.054057759), (46.404057759, 18.936613715), (46.286613715, 20.345942241))
        make_face()
        with BuildLine():
            Line((52.286613715, 20.345942241), (63.286613715, 33.345942241))
            ThreePointArc((63.286613715, 33.345942241), (64.695942241, 33.463386285), (64.813386285, 32.054057759))
            Line((64.813386285, 32.054057759), (53.813386285, 19.054057759))
            ThreePointArc((53.813386285, 19.054057759), (52.404057759, 18.936613715), (52.286613715, 20.345942241))
        make_face()
    extrude(amount=-CUT_EXTRUDE3_DEPTH, mode=Mode.SUBTRACT)

    # Sketch8 → Cut-Extrude4 (cut, through all)
    with BuildSketch(Plane.XY.offset(7)):
        with Locations((4, 4)):
            Circle(SKETCH8_R)
        with Locations((86, 34)):
            Circle(SKETCH8_R)
    extrude(amount=-CUT_EXTRUDE4_DEPTH, mode=Mode.SUBTRACT)


solid = Compound([part_1.part, body_2_1.part])
